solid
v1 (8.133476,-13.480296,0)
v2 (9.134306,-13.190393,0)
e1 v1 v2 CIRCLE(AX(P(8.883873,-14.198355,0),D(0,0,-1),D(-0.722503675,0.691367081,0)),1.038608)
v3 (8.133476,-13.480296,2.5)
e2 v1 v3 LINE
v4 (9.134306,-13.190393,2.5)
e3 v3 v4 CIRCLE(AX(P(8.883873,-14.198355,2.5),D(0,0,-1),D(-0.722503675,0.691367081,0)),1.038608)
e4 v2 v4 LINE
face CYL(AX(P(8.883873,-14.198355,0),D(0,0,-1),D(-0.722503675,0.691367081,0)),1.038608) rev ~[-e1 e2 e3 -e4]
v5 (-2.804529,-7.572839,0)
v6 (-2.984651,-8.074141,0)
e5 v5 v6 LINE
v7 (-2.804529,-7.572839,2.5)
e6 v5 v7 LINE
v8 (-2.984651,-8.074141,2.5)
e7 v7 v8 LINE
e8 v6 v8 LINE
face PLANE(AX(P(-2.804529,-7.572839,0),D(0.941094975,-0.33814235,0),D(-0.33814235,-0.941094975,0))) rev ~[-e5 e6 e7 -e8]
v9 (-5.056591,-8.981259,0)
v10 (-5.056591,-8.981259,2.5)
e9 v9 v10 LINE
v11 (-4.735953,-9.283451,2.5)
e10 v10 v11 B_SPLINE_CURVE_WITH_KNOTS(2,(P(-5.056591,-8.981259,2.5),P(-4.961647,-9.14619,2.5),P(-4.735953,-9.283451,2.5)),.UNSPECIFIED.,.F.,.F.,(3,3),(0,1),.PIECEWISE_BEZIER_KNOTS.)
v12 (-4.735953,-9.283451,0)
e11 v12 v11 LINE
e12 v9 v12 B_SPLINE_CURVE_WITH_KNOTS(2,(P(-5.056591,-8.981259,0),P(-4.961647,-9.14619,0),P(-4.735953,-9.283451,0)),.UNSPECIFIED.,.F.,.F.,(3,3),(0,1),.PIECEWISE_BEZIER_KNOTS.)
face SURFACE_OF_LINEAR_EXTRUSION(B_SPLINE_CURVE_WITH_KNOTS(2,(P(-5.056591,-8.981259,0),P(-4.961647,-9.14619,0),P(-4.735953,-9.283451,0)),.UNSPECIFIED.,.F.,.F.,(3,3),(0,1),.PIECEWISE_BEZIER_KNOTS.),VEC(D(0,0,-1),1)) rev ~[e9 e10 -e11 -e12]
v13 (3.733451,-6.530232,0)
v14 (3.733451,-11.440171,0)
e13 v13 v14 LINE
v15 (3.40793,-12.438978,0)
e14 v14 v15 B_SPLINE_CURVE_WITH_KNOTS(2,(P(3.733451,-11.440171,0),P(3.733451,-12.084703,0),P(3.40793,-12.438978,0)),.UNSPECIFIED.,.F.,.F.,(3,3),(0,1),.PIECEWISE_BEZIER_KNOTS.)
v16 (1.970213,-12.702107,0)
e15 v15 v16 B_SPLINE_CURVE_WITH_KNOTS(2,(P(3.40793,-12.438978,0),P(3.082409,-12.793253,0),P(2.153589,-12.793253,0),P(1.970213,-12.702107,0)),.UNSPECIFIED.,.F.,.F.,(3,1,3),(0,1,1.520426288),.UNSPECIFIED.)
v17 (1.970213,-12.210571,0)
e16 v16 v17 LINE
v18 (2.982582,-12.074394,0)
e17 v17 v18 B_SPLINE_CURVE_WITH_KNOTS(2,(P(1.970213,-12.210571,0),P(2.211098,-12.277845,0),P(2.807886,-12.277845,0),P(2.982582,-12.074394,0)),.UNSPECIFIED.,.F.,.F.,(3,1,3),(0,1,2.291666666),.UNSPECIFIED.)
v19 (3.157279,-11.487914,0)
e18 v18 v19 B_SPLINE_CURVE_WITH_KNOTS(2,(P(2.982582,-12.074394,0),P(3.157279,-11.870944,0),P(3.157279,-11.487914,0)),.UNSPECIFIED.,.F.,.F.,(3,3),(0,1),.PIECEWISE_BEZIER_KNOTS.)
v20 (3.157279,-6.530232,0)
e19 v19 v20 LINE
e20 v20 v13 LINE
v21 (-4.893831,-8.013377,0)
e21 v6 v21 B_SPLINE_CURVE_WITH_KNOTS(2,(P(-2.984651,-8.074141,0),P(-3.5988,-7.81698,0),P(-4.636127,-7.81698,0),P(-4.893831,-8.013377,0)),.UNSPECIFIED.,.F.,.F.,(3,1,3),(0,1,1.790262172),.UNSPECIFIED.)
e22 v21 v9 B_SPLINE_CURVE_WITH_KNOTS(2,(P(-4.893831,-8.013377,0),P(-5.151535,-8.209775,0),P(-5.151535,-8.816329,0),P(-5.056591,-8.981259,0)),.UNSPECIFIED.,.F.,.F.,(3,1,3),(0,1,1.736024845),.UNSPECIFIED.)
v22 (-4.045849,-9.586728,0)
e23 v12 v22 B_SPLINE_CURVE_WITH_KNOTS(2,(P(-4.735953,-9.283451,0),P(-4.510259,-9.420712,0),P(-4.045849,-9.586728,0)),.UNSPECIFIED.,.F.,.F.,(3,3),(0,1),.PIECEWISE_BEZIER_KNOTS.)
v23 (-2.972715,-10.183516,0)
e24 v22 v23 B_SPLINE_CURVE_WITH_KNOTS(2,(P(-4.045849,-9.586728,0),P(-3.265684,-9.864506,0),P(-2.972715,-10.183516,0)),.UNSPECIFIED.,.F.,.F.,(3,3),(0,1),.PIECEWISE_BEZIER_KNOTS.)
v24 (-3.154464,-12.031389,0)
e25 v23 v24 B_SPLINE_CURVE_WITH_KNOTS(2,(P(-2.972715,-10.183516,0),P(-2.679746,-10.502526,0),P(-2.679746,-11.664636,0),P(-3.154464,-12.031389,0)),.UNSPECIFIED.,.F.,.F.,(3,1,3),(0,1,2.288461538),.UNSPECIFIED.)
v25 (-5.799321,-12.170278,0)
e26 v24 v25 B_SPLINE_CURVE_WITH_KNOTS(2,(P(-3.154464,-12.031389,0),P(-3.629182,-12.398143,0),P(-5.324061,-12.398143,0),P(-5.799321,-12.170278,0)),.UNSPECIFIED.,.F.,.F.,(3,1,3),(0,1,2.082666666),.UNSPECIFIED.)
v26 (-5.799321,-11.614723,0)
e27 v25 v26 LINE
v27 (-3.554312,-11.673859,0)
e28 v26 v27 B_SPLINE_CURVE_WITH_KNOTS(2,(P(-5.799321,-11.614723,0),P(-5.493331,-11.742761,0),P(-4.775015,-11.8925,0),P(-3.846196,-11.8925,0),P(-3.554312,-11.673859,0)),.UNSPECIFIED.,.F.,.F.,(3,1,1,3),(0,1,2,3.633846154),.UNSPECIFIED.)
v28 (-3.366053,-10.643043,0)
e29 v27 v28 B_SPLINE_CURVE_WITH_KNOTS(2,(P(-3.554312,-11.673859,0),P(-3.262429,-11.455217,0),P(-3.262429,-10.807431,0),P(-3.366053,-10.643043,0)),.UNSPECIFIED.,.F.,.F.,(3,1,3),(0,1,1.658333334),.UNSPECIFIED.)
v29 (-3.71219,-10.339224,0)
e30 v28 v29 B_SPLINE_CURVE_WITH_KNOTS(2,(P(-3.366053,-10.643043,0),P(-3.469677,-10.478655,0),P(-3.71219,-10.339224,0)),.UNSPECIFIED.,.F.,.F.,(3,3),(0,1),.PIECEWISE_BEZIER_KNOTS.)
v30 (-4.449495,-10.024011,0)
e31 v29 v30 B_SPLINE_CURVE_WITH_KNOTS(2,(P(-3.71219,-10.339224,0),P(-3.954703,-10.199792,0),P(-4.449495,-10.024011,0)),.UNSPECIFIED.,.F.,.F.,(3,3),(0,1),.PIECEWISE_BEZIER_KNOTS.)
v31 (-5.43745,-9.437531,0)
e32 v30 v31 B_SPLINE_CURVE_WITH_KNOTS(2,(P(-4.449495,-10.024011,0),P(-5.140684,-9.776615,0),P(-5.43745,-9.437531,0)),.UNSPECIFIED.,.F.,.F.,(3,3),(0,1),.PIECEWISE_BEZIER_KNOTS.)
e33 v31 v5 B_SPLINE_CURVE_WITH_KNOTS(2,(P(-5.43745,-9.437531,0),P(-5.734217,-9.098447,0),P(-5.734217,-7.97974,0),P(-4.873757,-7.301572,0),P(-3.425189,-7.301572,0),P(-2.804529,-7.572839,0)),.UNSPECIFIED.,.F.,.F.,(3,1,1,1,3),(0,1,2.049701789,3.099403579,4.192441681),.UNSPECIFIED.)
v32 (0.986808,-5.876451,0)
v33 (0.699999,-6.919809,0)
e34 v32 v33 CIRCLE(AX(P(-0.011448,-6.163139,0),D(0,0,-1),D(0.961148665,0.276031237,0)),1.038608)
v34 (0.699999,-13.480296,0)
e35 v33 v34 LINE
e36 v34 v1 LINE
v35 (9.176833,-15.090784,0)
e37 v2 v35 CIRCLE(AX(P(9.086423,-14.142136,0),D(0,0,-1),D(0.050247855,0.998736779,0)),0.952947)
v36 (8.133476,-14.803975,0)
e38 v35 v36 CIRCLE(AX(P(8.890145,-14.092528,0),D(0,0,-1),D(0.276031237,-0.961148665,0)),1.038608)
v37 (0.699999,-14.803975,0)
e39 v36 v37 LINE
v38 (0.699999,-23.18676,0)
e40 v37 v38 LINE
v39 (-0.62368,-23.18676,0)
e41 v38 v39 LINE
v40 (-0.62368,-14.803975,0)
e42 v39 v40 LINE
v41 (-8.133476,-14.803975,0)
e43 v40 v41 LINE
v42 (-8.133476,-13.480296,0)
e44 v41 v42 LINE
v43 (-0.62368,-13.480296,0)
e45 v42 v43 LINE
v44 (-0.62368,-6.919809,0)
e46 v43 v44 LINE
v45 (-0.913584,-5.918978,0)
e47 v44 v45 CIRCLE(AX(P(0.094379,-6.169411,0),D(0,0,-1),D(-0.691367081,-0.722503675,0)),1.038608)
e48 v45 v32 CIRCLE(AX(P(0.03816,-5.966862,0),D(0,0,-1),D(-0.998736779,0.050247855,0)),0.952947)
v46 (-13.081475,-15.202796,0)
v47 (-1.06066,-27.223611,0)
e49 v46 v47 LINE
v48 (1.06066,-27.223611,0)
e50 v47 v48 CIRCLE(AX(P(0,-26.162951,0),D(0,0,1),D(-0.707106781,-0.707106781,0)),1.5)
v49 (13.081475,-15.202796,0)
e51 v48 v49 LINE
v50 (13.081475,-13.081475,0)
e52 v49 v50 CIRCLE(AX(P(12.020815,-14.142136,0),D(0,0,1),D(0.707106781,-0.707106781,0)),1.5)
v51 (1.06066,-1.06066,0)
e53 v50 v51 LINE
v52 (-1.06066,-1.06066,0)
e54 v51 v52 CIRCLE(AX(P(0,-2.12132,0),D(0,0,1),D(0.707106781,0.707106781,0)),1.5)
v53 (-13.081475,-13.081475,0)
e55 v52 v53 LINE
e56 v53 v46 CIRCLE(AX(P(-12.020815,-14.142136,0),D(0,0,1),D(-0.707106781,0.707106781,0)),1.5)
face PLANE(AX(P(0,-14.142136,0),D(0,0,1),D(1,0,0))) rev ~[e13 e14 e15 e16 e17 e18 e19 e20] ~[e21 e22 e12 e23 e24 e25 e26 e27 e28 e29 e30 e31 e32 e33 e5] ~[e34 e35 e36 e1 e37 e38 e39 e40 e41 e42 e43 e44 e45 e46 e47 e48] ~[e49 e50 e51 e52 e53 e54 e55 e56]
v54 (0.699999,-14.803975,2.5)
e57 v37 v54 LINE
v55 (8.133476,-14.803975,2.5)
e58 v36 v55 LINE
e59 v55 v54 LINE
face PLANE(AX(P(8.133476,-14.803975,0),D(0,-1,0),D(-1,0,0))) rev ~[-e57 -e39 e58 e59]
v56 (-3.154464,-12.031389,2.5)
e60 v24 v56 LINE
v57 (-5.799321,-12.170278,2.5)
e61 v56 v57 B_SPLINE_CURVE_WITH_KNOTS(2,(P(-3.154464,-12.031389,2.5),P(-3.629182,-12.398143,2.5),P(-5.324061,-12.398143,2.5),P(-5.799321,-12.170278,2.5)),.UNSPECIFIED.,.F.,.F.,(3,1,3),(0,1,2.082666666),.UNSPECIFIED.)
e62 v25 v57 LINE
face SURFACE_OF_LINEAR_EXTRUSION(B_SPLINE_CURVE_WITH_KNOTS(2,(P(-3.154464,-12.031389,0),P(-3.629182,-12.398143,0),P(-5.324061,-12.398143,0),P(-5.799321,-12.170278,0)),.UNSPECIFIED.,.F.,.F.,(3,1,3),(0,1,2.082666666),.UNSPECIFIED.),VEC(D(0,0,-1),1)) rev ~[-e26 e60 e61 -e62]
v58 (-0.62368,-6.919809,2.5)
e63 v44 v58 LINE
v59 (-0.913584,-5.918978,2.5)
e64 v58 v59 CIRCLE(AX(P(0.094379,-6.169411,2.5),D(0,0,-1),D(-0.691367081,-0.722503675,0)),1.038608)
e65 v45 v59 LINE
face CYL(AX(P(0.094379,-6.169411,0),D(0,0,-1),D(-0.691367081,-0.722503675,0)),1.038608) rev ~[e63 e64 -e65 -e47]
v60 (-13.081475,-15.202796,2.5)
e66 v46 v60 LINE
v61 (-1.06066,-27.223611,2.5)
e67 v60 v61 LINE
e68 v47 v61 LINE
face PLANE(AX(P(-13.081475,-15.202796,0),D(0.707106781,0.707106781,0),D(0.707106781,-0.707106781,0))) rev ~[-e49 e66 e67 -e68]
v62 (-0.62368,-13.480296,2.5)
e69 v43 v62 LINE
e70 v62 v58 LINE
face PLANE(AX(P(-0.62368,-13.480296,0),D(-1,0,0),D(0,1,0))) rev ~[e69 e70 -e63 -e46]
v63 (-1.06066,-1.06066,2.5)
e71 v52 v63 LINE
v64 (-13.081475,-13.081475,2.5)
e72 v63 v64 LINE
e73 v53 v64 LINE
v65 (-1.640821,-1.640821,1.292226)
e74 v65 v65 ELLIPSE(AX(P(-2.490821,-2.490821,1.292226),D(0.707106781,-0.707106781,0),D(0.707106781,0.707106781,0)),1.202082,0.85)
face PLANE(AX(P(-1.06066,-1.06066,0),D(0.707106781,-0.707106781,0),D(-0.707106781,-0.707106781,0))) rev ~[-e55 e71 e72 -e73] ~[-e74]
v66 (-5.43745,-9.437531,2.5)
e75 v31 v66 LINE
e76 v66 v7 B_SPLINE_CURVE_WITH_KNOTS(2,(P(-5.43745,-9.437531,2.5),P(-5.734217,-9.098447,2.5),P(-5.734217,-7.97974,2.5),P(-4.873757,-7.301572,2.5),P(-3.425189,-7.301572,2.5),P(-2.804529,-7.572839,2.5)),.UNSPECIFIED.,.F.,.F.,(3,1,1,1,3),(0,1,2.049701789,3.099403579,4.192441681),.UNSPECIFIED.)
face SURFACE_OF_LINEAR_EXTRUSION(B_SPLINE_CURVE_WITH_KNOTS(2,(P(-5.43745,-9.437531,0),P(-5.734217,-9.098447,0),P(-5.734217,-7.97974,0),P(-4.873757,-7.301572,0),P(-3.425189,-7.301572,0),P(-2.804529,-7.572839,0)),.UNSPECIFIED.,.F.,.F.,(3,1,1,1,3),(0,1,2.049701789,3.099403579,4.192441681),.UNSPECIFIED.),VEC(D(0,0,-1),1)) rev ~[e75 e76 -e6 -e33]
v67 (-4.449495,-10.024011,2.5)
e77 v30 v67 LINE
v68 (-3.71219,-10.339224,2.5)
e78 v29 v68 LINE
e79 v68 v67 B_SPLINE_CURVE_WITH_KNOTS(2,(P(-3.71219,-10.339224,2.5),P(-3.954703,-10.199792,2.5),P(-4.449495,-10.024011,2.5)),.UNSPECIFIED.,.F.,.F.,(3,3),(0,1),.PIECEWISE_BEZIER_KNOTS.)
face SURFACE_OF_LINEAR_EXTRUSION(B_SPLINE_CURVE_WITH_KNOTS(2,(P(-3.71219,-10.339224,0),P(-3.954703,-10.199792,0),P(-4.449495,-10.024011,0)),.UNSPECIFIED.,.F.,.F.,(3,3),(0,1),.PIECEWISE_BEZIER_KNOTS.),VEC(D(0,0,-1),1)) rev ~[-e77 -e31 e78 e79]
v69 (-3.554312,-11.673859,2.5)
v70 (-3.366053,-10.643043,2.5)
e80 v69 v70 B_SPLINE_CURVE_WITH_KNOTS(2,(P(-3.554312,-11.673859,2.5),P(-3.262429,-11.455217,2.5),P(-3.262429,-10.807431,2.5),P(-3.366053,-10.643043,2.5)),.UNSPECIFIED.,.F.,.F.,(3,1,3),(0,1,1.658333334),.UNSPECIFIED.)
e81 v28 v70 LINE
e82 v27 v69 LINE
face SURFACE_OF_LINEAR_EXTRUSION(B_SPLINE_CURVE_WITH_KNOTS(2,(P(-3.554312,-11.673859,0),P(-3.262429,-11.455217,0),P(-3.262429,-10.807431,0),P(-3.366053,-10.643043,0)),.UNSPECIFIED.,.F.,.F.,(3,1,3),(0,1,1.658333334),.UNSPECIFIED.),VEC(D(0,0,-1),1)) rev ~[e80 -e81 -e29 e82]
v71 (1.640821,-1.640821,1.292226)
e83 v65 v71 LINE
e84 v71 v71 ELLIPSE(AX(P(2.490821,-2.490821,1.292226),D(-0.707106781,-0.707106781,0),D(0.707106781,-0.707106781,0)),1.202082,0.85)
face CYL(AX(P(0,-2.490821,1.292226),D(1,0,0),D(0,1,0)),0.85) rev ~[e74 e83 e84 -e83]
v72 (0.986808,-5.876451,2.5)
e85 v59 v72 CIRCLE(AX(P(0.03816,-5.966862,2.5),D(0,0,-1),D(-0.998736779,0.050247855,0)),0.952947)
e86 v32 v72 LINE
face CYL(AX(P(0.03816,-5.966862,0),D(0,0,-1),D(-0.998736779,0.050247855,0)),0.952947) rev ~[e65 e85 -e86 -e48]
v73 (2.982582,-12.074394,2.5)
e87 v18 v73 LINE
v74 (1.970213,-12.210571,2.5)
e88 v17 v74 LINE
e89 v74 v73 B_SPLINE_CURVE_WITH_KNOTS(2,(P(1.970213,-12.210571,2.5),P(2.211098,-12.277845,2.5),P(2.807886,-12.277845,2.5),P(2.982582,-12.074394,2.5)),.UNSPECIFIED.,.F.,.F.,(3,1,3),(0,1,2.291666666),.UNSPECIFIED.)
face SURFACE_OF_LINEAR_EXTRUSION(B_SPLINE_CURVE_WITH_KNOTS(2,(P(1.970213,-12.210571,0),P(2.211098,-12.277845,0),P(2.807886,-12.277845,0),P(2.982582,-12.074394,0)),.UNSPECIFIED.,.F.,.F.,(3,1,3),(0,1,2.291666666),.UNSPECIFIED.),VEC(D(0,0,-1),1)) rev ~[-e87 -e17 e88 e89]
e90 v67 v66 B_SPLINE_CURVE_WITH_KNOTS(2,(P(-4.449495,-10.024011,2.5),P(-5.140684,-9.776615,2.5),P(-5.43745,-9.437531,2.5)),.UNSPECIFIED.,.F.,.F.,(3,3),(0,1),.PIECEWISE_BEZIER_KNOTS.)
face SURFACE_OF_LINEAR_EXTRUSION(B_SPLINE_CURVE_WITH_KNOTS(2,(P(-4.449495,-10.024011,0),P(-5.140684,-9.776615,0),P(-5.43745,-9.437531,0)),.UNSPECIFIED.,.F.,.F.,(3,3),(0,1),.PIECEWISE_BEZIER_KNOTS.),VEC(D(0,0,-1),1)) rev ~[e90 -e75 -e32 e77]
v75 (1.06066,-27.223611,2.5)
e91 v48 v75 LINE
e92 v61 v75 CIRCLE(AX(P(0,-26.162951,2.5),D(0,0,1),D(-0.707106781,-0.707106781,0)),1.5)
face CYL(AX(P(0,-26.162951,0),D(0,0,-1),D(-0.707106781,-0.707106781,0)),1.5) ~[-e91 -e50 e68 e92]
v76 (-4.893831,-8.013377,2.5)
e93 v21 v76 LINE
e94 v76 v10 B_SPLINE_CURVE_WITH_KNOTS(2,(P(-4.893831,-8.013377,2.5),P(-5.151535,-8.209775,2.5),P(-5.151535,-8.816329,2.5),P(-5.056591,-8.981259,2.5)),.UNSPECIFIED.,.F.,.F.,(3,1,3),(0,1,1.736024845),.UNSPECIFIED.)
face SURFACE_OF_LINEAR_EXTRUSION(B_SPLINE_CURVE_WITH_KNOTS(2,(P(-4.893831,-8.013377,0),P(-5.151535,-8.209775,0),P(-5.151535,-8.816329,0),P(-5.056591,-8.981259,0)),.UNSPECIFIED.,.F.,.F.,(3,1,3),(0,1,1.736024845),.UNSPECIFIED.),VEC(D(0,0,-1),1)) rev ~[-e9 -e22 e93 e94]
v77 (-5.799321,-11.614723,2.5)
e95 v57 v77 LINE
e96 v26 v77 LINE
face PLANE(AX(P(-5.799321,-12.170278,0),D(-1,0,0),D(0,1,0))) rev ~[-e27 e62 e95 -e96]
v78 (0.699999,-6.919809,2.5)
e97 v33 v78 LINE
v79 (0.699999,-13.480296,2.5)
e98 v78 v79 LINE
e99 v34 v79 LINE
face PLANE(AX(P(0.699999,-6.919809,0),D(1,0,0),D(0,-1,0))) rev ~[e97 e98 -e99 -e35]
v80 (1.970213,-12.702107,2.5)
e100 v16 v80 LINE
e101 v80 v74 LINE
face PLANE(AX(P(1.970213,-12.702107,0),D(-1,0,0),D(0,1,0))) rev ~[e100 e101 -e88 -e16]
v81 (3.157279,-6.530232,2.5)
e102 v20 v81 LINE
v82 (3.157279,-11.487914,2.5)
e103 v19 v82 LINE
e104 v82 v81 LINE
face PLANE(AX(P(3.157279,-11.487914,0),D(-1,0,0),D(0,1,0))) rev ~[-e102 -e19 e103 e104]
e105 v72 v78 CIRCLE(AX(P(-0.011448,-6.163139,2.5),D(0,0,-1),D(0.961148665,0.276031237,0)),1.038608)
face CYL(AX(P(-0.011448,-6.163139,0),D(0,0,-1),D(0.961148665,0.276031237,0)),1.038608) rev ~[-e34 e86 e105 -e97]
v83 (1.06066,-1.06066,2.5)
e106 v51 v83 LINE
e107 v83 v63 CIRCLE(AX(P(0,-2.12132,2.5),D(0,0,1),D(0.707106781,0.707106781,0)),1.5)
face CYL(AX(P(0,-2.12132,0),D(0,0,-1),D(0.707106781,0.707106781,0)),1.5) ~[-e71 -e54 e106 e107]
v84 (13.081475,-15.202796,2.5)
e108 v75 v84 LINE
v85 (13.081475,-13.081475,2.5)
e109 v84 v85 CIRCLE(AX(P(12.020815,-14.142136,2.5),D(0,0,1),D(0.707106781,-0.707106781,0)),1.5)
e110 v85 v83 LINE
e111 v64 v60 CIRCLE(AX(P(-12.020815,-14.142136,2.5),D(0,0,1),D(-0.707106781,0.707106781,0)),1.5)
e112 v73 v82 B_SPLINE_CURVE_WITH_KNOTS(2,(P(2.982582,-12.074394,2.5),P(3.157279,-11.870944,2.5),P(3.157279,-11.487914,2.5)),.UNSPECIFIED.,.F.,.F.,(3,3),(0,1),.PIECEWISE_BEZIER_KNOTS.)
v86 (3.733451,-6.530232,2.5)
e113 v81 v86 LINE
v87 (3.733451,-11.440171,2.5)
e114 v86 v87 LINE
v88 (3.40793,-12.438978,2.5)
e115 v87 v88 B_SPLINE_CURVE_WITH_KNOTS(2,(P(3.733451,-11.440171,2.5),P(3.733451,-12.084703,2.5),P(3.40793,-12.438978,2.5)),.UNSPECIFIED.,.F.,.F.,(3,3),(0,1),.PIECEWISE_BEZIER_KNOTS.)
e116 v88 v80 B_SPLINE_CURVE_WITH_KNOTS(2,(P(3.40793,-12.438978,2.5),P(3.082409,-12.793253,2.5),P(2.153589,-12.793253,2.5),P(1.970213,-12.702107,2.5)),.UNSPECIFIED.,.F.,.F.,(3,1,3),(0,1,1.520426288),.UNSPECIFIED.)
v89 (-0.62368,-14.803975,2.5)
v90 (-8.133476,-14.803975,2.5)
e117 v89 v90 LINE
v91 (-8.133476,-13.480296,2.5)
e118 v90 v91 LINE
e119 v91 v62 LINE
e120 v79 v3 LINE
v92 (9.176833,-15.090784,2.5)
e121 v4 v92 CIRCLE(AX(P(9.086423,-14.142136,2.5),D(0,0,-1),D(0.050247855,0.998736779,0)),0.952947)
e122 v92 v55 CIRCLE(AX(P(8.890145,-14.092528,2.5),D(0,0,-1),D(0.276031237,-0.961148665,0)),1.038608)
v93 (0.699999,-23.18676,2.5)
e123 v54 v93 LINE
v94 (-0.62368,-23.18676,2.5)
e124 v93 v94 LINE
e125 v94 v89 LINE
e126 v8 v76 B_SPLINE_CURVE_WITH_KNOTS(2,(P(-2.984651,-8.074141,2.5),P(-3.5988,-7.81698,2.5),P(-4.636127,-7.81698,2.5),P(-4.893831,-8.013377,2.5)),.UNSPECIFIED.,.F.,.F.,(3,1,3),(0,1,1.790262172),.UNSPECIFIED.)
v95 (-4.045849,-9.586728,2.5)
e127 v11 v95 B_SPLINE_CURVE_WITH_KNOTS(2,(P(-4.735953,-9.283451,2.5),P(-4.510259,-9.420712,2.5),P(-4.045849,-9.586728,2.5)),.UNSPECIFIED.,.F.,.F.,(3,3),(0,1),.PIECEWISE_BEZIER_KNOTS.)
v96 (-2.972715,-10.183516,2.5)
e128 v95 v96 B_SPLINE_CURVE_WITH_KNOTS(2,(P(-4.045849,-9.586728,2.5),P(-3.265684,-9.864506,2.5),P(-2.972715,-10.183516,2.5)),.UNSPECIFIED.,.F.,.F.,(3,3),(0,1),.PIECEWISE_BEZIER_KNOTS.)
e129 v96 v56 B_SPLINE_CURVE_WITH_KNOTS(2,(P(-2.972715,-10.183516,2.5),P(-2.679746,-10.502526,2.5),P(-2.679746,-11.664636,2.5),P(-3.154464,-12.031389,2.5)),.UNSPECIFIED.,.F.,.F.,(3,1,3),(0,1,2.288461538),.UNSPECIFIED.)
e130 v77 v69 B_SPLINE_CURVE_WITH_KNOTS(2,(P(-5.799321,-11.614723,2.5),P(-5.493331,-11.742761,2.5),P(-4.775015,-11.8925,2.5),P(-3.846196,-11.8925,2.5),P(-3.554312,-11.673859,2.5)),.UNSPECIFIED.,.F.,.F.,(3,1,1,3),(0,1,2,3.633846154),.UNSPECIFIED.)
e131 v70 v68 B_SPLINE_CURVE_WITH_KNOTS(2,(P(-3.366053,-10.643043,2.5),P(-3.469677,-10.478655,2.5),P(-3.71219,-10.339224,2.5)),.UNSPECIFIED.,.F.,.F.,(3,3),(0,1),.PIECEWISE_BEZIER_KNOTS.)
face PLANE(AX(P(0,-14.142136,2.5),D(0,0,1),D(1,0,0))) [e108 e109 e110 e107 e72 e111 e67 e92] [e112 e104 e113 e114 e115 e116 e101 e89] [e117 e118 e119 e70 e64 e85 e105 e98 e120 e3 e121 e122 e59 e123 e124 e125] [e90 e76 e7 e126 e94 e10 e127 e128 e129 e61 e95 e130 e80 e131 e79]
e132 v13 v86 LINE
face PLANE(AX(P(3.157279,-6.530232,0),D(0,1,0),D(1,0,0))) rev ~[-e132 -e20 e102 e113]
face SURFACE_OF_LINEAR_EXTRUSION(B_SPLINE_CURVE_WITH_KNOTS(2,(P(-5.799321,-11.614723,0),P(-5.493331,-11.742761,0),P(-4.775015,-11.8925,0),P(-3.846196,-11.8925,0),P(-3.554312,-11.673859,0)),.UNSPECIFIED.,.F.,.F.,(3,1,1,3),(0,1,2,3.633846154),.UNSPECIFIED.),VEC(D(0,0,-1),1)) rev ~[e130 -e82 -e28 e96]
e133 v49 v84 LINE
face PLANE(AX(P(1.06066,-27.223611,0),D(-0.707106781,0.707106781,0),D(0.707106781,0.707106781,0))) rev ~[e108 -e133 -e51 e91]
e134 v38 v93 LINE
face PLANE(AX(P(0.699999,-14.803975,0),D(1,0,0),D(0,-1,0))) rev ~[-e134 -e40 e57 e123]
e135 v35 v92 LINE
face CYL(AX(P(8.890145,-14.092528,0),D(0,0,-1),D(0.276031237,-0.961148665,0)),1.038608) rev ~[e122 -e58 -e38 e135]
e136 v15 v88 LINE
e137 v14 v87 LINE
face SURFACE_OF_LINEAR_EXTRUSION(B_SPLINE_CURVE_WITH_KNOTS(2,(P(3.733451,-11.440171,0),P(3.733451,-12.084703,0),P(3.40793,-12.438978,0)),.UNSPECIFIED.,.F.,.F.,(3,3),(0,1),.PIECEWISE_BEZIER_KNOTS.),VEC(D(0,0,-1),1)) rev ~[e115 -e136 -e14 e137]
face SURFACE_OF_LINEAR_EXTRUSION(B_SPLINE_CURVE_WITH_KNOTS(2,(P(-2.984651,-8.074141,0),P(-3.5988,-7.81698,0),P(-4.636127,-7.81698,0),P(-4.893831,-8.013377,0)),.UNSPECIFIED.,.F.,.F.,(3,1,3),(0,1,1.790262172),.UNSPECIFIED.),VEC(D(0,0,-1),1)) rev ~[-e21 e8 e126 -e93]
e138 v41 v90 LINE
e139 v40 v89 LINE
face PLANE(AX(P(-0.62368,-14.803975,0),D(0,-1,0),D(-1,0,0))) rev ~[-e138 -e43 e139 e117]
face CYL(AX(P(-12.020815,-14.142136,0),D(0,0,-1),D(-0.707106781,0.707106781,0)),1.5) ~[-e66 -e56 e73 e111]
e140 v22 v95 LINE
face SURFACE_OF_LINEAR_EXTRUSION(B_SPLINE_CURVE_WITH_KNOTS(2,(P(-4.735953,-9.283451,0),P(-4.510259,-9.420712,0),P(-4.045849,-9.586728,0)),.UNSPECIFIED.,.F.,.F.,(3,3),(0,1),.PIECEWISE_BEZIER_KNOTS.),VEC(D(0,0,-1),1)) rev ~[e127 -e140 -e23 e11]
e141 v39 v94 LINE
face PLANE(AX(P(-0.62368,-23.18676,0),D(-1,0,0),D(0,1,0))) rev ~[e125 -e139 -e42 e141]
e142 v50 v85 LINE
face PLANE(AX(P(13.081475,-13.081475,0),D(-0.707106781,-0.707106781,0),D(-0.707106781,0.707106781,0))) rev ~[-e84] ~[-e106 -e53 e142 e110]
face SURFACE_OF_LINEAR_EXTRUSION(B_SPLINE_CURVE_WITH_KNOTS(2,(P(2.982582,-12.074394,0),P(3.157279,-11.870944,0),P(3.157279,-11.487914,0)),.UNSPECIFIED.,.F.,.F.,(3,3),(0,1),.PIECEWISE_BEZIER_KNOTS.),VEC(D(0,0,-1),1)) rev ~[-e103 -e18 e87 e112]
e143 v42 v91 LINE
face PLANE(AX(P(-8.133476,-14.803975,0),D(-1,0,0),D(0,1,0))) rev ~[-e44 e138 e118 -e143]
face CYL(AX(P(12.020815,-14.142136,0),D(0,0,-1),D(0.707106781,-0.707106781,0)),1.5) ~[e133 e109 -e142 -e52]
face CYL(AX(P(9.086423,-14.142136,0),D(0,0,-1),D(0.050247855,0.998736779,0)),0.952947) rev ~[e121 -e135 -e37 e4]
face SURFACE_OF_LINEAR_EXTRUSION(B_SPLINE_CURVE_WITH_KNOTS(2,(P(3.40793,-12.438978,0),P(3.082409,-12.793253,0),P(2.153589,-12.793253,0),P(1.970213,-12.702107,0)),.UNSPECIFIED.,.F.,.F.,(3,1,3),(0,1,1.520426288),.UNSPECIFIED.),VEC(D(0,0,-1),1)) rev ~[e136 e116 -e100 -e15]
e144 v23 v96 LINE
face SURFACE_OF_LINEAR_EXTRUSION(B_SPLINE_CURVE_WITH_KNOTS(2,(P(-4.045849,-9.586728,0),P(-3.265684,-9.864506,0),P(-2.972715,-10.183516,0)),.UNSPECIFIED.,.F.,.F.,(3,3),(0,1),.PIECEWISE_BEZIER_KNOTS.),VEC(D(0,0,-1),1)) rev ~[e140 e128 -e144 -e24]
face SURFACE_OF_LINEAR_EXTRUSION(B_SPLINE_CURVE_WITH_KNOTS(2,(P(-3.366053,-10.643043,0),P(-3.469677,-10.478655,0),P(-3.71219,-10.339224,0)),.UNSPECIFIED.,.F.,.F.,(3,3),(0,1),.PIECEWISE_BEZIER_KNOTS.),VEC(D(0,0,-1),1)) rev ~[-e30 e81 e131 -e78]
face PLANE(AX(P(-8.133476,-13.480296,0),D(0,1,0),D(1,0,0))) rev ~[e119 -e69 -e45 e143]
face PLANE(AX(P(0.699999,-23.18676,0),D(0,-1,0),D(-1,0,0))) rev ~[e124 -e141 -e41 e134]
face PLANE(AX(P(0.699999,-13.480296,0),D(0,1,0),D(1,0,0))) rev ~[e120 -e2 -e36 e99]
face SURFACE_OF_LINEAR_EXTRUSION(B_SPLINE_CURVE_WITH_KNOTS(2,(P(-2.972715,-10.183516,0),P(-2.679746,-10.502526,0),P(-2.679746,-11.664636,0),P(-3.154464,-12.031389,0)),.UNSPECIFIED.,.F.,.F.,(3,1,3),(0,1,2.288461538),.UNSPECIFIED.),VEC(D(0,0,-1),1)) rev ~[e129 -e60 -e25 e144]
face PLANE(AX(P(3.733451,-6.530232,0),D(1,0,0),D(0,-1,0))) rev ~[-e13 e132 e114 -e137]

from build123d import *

# Parameters (mm, degrees)
F1_DEPTH = 2.5
F2_R     = 0.85
F3_DEPTH = 12.5


with BuildPart() as f1:
    # F0 (on Top) → F1 (new body)
    with BuildSketch(Plane.XY):
        with BuildLine():
            Line((13.081475452, -13.081475452), (1.0606601718, -1.0606601718))
            ThreePointArc((1.0606601718, -1.0606601718), (0, -0.6213203436), (-1.0606601718, -1.0606601718))
            Line((-1.0606601718, -1.0606601718), (-13.081475452, -13.081475452))
            ThreePointArc((-13.081475452, -13.081475452), (-13.5208152802, -14.1421356237), (-13.081475452, -15.2027957955))
            Line((-13.081475452, -15.2027957955), (-1.0606601718, -27.2236110757))
            ThreePointArc((-1.0606601718, -27.2236110757), (0, -27.6629509039), (1.0606601718, -27.2236110757))
            Line((1.0606601718, -27.2236110757), (13.081475452, -15.2027957955))
            ThreePointArc((13.081475452, -15.2027957955), (13.5208152802, -14.1421356237), (13.081475452, -13.081475452))
        make_face()
        with BuildLine():
            add(Edge.make_bspline(
                [(-2.9727151348, -10.1835160413), (-2.6797463848, -10.5025264579), (-2.6797463848, -11.0103389579)],
                knots=[0, 0, 0, 1, 1, 1], degree=2))
            add(Edge.make_bspline(
                [(-2.6797463848, -11.0103389579), (-2.6797463848, -11.6646358329), (-3.1544642668, -12.0313893052)],
                knots=[0, 0, 0, 1, 1, 1], degree=2))
            add(Edge.make_bspline(
                [(-3.1544642668, -12.0313893052), (-3.6291821487, -12.3981427774), (-4.4429842321, -12.3981427774)],
                knots=[0, 0, 0, 1, 1, 1], degree=2))
            add(Edge.make_bspline(
                [(-4.4429842321, -12.3981427774), (-5.3240606209, -12.3981427774), (-5.7993210376, -12.170278194)],
                knots=[0, 0, 0, 1, 1, 1], degree=2))
            Line((-5.7993210376, -12.170278194), (-5.7993210376, -11.6147226385))
            add(Edge.make_bspline(
                [(-5.7993210376, -11.6147226385), (-5.4933314543, -11.7427608329), (-5.1341734682, -11.8176306246)],
                knots=[0, 0, 0, 1, 1, 1], degree=2))
            add(Edge.make_bspline(
                [(-5.1341734682, -11.8176306246), (-4.7750154821, -11.8925004163), (-4.4223679126, -11.8925004163)],
                knots=[0, 0, 0, 1, 1, 1], degree=2))
            add(Edge.make_bspline(
                [(-4.4223679126, -11.8925004163), (-3.8461960376, -11.8925004163), (-3.5543123571, -11.6738589232)],
                knots=[0, 0, 0, 1, 1, 1], degree=2))
            add(Edge.make_bspline(
                [(-3.5543123571, -11.6738589232), (-3.2624286765, -11.4552174302), (-3.2624286765, -11.0645924302)],
                knots=[0, 0, 0, 1, 1, 1], degree=2))
            add(Edge.make_bspline(
                [(-3.2624286765, -11.0645924302), (-3.2624286765, -10.8074309718), (-3.3660528084, -10.643042951)],
                knots=[0, 0, 0, 1, 1, 1], degree=2))
            add(Edge.make_bspline(
                [(-3.3660528084, -10.643042951), (-3.4696769404, -10.4786549302), (-3.7121899612, -10.3392235065)],
                knots=[0, 0, 0, 1, 1, 1], degree=2))
            add(Edge.make_bspline(
                [(-3.7121899612, -10.3392235065), (-3.9547029821, -10.1997920829), (-4.4494946487, -10.0240108329)],
                knots=[0, 0, 0, 1, 1, 1], degree=2))
            add(Edge.make_bspline(
                [(-4.4494946487, -10.0240108329), (-5.1406838848, -9.7766149996), (-5.4374503779, -9.4375307982)],
                knots=[0, 0, 0, 1, 1, 1], degree=2))
            add(Edge.make_bspline(
                [(-5.4374503779, -9.4375307982), (-5.7342168709, -9.0984465968), (-5.7342168709, -8.5526566663)],
                knots=[0, 0, 0, 1, 1, 1], degree=2))
            add(Edge.make_bspline(
                [(-5.7342168709, -8.5526566663), (-5.7342168709, -7.9797399996), (-5.3039868362, -7.6406557982)],
                knots=[0, 0, 0, 1, 1, 1], degree=2))
            add(Edge.make_bspline(
                [(-5.3039868362, -7.6406557982), (-4.8737568015, -7.3015715968), (-4.1641213848, -7.3015715968)],
                knots=[0, 0, 0, 1, 1, 1], degree=2))
            add(Edge.make_bspline(
                [(-4.1641213848, -7.3015715968), (-3.4251890932, -7.3015715968), (-2.8045293709, -7.5728389579)],
                knots=[0, 0, 0, 1, 1, 1], degree=2))
            Line((-2.8045293709, -7.5728389579), (-2.9846508987, -8.0741410413))
            add(Edge.make_bspline(
                [(-2.9846508987, -8.0741410413), (-3.5988002043, -7.8169795829), (-4.1782272876, -7.8169795829)],
                knots=[0, 0, 0, 1, 1, 1], degree=2))
            add(Edge.make_bspline(
                [(-4.1782272876, -7.8169795829), (-4.6361265932, -7.8169795829), (-4.8938305862, -8.0133771524)],
                knots=[0, 0, 0, 1, 1, 1], degree=2))
            add(Edge.make_bspline(
                [(-4.8938305862, -8.0133771524), (-5.1515345793, -8.2097747218), (-5.1515345793, -8.5591670829)],
                knots=[0, 0, 0, 1, 1, 1], degree=2))
            add(Edge.make_bspline(
                [(-5.1515345793, -8.5591670829), (-5.1515345793, -8.8163285413), (-5.0565910029, -8.9812590968)],
                knots=[0, 0, 0, 1, 1, 1], degree=2))
            add(Edge.make_bspline(
                [(-5.0565910029, -8.9812590968), (-4.9616474265, -9.1461896524), (-4.7359529821, -9.2834509371)],
                knots=[0, 0, 0, 1, 1, 1], degree=2))
            add(Edge.make_bspline(
                [(-4.7359529821, -9.2834509371), (-4.5102585376, -9.4207122218), (-4.0458488154, -9.5867278468)],
                knots=[0, 0, 0, 1, 1, 1], degree=2))
            add(Edge.make_bspline(
                [(-4.0458488154, -9.5867278468), (-3.2656838848, -9.8645056246), (-2.9727151348, -10.1835160413)],
                knots=[0, 0, 0, 1, 1, 1], degree=2))
        make_face(mode=Mode.SUBTRACT)
        with BuildLine():
            Line((-8.1334756687, -14.8039748892), (-8.1334756687, -13.4802963582))
            Line((-8.1334756687, -13.4802963582), (-0.6236797201, -13.4802963582))
            Line((-0.6236797201, -13.4802963582), (-0.6236797201, -6.9198086858))
            ThreePointArc((-0.6236797201, -6.9198086858), (-0.9032194318, -6.4583786209), (-0.9135835525, -5.9189782686))
            ThreePointArc((-0.9135835525, -5.9189782686), (0.0168397474, -5.0141534426), (0.9868078824, -5.876451129))
            ThreePointArc((0.9868078824, -5.876451129), (0.9900106564, -6.4384308628), (0.6999988109, -6.9198086858))
            Line((0.6999988109, -6.9198086858), (0.6999988109, -13.4802963582))
            Line((0.6999988109, -13.4802963582), (8.1334756687, -13.4802963582))
            ThreePointArc((8.1334756687, -13.4802963582), (8.5949057336, -13.2007566465), (9.134306086, -13.1903925258))
            ThreePointArc((9.134306086, -13.1903925258), (10.0391309119, -14.1208158258), (9.1768332255, -15.0907839607))
            ThreePointArc((9.1768332255, -15.0907839607), (8.6148534917, -15.0939867347), (8.1334756687, -14.8039748892))
            Line((8.1334756687, -14.8039748892), (0.6999988109, -14.8039748892))
            Line((0.6999988109, -14.8039748892), (0.6999988109, -23.1867600232))
            Line((0.6999988109, -23.1867600232), (-0.6236797201, -23.1867600232))
            Line((-0.6236797201, -23.1867600232), (-0.6236797201, -14.8039748892))
            Line((-0.6236797201, -14.8039748892), (-8.1334756687, -14.8039748892))
        make_face(mode=Mode.SUBTRACT)
        with BuildLine():
            add(Edge.make_bspline(
                [(3.4079297135, -12.4389777291), (3.0824088802, -12.7932529027), (2.471514783, -12.7932529027)],
                knots=[0, 0, 0, 1, 1, 1], degree=2))
            add(Edge.make_bspline(
                [(2.471514783, -12.7932529027), (2.1535894357, -12.7932529027), (1.9702126996, -12.7021070694)],
                knots=[0, 0, 0, 1, 1, 1], degree=2))
            Line((1.9702126996, -12.7021070694), (1.9702126996, -12.2105706111))
            add(Edge.make_bspline(
                [(1.9702126996, -12.2105706111), (2.2110981163, -12.2778449166), (2.471514783, -12.2778449166)],
                knots=[0, 0, 0, 1, 1, 1], degree=2))
            add(Edge.make_bspline(
                [(2.471514783, -12.2778449166), (2.8078863107, -12.2778449166), (2.9825824913, -12.0743943958)],
                knots=[0, 0, 0, 1, 1, 1], degree=2))
            add(Edge.make_bspline(
                [(2.9825824913, -12.0743943958), (3.1572786719, -11.8709438749), (3.1572786719, -11.4879143611)],
                knots=[0, 0, 0, 1, 1, 1], degree=2))
            Line((3.1572786719, -11.4879143611), (3.1572786719, -6.5302320694))
            Line((3.1572786719, -6.5302320694), (3.7334505469, -6.5302320694))
            Line((3.7334505469, -6.5302320694), (3.7334505469, -11.4401713055))
            add(Edge.make_bspline(
                [(3.7334505469, -11.4401713055), (3.7334505469, -12.0847025555), (3.4079297135, -12.4389777291)],
                knots=[0, 0, 0, 1, 1, 1], degree=2))
        make_face(mode=Mode.SUBTRACT)
    extrude(amount=F1_DEPTH)

    # F2 (on Right) → F3 (cut, symmetric)
    with BuildSketch(Plane.YZ):
        with Locations((-2.4908210296, 1.292226194)):
            Circle(F2_R)
    extrude(amount=F3_DEPTH, both=True, mode=Mode.SUBTRACT)


solid = f1.part
